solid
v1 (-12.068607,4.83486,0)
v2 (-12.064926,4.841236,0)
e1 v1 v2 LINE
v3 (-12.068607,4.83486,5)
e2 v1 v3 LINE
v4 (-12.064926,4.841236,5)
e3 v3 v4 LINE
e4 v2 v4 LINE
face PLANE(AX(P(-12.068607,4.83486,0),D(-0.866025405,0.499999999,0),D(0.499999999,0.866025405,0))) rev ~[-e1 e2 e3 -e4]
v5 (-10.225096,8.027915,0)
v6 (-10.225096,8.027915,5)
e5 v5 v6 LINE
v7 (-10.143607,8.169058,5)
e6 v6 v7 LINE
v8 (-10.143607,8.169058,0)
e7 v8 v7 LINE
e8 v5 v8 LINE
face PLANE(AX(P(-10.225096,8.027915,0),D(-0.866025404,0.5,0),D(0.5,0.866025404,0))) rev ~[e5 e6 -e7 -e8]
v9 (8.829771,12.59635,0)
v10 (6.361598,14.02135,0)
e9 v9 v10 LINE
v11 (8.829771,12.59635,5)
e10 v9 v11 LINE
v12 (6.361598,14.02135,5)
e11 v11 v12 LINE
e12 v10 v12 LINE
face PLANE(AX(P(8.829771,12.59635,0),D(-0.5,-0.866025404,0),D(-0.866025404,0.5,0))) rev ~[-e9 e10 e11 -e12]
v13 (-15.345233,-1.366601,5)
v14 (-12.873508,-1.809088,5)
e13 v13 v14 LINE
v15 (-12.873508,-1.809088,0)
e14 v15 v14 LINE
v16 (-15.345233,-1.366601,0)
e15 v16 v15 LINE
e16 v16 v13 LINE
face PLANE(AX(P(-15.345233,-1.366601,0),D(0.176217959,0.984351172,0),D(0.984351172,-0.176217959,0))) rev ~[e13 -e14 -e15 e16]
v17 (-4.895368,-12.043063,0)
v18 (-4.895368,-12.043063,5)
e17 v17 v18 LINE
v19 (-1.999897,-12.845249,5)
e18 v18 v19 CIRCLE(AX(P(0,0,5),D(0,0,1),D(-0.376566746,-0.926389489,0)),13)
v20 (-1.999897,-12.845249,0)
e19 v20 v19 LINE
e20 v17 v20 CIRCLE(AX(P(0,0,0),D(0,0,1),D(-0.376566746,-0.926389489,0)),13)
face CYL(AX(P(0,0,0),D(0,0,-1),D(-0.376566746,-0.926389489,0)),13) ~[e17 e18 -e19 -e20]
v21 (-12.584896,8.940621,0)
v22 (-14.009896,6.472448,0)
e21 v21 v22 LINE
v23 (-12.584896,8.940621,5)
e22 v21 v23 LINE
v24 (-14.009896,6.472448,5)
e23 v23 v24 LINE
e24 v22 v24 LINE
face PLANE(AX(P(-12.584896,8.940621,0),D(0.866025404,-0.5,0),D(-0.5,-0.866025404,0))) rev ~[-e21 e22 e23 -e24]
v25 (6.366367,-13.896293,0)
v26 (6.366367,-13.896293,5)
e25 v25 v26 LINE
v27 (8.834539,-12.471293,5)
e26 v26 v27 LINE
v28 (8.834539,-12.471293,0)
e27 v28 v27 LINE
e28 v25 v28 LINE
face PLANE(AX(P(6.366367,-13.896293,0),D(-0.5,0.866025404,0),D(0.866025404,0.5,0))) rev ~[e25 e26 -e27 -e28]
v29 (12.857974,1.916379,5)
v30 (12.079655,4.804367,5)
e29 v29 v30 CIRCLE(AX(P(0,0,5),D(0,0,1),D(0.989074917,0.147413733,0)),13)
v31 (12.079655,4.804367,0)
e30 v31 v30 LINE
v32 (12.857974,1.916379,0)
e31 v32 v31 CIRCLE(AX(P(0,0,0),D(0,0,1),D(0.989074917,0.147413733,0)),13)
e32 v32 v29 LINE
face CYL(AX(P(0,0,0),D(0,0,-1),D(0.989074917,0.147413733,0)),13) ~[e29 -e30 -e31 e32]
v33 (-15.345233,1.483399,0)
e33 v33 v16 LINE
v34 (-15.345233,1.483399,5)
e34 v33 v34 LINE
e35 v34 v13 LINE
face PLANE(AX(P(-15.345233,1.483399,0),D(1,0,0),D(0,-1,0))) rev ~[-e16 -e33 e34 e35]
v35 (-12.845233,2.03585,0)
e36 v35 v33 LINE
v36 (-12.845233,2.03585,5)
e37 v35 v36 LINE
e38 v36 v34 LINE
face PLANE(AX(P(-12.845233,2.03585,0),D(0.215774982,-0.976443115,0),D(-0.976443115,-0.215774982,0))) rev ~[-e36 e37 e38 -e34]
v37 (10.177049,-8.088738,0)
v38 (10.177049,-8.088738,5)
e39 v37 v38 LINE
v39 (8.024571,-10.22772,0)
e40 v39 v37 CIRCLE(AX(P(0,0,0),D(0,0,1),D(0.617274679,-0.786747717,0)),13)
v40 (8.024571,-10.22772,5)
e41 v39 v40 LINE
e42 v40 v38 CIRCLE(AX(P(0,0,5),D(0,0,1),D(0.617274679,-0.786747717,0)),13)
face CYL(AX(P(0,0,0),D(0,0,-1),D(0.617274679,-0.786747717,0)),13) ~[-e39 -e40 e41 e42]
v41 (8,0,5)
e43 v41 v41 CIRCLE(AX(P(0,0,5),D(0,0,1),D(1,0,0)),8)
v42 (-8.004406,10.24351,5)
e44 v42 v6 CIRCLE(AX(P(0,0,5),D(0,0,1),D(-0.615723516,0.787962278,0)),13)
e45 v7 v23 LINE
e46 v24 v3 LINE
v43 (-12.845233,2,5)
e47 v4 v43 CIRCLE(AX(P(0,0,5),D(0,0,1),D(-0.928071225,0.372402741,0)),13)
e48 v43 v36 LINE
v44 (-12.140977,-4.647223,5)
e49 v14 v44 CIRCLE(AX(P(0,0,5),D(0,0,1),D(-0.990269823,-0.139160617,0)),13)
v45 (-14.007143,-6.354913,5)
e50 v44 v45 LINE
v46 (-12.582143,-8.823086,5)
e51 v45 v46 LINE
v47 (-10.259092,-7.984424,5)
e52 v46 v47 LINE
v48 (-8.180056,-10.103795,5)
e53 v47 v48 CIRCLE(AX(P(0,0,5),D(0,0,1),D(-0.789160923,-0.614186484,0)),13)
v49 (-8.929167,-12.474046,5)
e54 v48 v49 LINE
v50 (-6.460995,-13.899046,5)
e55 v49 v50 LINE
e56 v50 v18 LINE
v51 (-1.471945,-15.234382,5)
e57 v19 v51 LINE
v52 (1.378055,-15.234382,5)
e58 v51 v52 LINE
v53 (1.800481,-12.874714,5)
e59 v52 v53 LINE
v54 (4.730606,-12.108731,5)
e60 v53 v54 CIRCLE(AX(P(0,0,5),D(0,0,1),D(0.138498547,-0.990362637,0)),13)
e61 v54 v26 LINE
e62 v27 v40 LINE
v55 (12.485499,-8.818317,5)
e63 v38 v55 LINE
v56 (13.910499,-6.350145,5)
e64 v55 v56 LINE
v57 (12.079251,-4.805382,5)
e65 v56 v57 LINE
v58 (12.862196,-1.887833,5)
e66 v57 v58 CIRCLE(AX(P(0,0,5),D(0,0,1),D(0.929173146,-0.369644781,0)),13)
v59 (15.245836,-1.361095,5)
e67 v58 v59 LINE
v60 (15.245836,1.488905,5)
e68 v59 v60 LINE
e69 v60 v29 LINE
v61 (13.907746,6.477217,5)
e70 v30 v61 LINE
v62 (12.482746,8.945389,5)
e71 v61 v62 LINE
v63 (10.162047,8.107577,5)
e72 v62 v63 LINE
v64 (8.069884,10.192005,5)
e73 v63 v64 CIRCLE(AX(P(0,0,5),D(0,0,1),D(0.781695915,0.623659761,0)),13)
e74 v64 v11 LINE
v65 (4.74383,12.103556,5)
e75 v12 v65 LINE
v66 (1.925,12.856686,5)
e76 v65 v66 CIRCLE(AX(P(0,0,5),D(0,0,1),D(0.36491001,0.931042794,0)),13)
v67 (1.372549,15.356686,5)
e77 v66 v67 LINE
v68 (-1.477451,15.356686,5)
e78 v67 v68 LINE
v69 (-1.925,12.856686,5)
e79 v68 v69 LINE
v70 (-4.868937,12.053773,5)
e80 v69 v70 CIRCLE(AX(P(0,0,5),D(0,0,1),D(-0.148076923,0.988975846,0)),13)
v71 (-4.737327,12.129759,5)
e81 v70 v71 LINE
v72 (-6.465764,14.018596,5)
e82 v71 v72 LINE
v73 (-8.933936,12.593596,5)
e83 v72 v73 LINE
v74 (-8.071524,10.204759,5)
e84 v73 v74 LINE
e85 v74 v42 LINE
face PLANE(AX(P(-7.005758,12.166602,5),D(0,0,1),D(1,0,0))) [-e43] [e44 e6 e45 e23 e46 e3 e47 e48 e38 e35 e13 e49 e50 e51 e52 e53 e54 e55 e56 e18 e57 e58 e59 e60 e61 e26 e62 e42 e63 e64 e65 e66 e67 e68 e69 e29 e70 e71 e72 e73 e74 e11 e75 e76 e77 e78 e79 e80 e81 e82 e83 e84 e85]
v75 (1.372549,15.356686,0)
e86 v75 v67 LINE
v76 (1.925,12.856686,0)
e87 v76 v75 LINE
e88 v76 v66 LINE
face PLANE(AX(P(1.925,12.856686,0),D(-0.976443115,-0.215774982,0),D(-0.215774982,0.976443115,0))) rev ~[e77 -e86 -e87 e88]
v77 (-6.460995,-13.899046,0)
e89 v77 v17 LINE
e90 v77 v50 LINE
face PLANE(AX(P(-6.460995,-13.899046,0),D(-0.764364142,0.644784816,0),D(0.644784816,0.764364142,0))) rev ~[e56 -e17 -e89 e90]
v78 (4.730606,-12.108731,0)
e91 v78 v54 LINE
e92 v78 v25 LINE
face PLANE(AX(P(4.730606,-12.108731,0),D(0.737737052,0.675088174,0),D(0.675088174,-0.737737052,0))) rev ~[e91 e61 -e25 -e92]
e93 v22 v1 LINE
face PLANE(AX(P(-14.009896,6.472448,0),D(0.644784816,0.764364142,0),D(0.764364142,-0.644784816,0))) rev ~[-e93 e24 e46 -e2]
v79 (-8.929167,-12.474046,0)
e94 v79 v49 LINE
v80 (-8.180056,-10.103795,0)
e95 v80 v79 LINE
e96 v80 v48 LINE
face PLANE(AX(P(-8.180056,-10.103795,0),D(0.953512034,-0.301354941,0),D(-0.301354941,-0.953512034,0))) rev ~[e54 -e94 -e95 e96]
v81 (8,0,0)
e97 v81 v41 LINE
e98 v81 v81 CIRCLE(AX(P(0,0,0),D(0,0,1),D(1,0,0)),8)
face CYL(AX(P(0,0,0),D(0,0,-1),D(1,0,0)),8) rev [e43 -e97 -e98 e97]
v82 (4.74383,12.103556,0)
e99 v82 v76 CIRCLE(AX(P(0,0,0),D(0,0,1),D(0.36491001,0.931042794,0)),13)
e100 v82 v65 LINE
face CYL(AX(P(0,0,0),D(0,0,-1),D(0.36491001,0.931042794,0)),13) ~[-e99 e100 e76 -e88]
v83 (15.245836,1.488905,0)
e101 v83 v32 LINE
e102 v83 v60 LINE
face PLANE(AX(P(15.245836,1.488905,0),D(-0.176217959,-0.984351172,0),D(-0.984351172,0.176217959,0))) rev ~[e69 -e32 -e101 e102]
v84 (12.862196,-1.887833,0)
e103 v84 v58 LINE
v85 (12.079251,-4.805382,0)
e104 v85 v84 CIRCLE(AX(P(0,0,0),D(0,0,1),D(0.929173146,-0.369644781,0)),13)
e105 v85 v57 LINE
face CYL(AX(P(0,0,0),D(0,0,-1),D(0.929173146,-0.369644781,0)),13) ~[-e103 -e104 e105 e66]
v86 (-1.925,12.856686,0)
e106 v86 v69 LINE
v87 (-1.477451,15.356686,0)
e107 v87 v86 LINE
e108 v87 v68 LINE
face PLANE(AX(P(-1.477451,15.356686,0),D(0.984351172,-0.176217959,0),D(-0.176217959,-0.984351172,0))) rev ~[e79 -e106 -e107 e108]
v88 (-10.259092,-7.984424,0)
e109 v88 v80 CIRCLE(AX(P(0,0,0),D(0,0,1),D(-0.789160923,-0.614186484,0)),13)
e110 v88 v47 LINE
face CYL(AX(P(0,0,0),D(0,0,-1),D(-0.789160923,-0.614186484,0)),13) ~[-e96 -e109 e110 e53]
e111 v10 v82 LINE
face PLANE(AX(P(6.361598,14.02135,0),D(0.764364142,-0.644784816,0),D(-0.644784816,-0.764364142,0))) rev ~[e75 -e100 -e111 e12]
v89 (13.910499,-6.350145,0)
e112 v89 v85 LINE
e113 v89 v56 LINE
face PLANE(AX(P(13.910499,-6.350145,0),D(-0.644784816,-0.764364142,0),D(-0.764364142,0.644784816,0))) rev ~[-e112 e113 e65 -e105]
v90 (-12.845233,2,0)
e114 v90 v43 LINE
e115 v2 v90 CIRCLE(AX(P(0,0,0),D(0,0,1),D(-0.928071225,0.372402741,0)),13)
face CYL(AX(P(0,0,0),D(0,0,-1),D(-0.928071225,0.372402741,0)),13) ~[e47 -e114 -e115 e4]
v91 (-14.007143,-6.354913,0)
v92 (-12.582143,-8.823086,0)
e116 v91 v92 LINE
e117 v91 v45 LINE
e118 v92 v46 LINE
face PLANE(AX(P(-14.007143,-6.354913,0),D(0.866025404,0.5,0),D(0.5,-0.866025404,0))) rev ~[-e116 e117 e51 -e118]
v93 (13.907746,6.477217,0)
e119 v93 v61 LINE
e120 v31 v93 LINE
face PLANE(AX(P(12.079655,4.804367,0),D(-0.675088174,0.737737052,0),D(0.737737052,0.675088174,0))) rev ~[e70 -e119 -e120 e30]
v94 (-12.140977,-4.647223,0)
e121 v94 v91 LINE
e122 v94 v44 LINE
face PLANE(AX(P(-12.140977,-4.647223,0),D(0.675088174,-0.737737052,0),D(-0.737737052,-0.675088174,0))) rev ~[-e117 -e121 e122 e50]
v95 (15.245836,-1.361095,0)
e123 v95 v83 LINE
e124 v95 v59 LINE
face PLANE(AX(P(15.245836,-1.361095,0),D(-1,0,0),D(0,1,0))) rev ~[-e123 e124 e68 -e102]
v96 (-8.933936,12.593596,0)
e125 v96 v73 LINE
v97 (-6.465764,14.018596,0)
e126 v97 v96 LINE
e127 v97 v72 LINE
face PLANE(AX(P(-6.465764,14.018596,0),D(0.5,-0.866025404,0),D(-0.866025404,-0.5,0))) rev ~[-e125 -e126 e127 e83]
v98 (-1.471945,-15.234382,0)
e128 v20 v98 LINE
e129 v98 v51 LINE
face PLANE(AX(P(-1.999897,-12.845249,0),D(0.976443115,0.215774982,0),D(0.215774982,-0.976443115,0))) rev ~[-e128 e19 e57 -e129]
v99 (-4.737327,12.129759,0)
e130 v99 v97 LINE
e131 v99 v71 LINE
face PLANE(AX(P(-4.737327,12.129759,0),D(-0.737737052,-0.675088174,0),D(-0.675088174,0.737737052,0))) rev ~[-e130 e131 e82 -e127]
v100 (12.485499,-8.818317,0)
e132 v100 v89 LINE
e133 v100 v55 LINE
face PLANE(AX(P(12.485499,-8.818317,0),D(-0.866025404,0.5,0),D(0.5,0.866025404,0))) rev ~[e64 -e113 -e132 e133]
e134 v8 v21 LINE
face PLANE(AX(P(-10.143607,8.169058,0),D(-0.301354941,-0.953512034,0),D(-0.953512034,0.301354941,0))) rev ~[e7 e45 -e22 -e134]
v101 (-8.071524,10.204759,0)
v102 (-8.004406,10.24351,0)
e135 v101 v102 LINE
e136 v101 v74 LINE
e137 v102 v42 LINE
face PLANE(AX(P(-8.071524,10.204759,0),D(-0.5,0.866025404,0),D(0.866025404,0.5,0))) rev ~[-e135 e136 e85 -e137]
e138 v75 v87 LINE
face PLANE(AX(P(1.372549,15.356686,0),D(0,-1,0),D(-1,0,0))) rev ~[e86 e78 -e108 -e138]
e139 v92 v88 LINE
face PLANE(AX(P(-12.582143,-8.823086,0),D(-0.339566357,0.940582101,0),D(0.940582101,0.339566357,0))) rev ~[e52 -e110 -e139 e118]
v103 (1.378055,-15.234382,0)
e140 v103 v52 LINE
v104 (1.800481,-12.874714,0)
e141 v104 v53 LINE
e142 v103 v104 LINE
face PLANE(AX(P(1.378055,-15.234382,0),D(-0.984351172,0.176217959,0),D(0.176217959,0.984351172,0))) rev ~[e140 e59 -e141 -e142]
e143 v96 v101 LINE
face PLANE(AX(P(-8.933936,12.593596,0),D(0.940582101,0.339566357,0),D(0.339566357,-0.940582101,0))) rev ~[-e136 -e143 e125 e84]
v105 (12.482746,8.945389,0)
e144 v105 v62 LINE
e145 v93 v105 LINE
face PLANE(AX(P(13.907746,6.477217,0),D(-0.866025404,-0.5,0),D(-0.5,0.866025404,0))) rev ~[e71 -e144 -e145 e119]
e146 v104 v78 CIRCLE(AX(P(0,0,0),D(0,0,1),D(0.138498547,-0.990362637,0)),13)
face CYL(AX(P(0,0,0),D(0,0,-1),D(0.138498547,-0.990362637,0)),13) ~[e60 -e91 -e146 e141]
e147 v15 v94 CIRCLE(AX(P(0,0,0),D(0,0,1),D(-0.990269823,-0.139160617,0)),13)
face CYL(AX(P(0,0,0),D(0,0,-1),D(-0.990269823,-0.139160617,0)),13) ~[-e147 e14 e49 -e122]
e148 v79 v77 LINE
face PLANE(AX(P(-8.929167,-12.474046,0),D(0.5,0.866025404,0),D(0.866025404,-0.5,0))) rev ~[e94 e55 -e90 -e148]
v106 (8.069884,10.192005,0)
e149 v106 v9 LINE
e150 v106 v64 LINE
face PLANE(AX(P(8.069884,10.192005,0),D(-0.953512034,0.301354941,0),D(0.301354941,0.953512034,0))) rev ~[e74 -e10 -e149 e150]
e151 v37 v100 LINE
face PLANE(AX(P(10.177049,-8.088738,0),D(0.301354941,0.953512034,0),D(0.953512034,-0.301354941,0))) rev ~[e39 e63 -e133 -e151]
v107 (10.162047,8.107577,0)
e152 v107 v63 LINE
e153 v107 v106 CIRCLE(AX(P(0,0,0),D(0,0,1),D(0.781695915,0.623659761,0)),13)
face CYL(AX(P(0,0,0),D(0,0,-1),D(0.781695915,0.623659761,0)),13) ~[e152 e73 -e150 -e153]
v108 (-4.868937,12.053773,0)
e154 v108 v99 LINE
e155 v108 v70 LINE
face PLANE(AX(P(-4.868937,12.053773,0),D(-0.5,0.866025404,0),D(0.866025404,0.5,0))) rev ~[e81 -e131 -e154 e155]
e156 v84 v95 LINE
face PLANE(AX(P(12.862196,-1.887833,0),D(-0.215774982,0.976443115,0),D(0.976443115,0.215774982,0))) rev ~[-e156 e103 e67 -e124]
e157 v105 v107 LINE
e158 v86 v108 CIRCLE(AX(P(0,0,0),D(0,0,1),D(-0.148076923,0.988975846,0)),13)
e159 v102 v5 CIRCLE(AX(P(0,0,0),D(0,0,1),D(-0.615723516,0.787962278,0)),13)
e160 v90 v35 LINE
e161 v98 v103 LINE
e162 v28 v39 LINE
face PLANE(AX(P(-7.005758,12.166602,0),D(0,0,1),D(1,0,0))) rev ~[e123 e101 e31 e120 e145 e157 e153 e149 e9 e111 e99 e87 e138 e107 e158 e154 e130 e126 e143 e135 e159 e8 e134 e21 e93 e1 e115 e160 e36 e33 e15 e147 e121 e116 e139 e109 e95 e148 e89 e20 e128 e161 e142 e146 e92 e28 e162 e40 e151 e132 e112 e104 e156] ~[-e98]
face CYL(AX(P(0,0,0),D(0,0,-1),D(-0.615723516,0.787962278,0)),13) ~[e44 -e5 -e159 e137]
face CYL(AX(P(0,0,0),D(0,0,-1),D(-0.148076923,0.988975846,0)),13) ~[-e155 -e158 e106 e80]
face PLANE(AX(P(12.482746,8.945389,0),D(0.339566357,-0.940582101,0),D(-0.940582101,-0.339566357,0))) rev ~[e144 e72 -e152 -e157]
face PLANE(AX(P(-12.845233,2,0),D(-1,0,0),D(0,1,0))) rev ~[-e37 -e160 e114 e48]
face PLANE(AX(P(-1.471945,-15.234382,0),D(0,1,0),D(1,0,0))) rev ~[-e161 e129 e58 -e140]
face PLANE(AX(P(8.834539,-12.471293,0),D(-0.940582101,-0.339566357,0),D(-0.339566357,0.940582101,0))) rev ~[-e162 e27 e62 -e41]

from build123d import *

# Parameters (mm, degrees)
F0_R     = 8
F1_DEPTH = 5


with BuildPart() as f1:
    # F0 (on Top) → F1 (new body)
    with BuildSketch(Plane.XY):
        with BuildLine():
            ThreePointArc((-8.0044057119, 10.2435096134), (-6.5, 11.2583302492), (-4.8689366932, 12.0537734954))
            Line((-4.8689366932, 12.0537734954), (-4.7373265178, 12.1297586656))
            Line((-4.7373265178, 12.1297586656), (-6.4657635443, 14.018596429))
            Line((-6.4657635443, 14.018596429), (-8.933935945, 12.593596429))
            Line((-8.933935945, 12.593596429), (-8.0715243224, 10.2047586656))
            Line((-8.0715243224, 10.2047586656), (-8.0044057119, 10.2435096134))
        make_face()
        with BuildLine():
            ThreePointArc((4.743830128, 12.1035563252), (3.3556109574, 12.5594536148), (1.925, 12.8566860038))
            Line((1.925, 12.8566860038), (-1.925, 12.8566860038))
            ThreePointArc((-1.925, 12.8566860038), (-3.4206082897, 12.5419073082), (-4.8689366932, 12.0537734954))
            Line((-4.8689366932, 12.0537734954), (-8.0044057119, 10.2435096134))
            ThreePointArc((-8.0044057119, 10.2435096134), (-9.18182436, 9.2029398249), (-10.2250960025, 8.0279145325))
            Line((-10.2250960025, 8.0279145325), (-12.0649259258, 4.841235628))
            ThreePointArc((-12.0649259258, 4.841235628), (-12.5358348008, 3.4427962251), (-12.8452325787, 2))
            Line((-12.8452325787, 2), (-12.8452325787, -1.8141498167))
            Line((-12.8452325787, -1.8141498167), (-12.8735077012, -1.8090880212))
            ThreePointArc((-12.8735077012, -1.8090880212), (-12.5874883323, -3.2488671079), (-12.1409769307, -4.6472227372))
            Line((-12.1409769307, -4.6472227372), (-12.1183052404, -4.6264763345))
            Line((-12.1183052404, -4.6264763345), (-10.1933052404, -7.9606741391))
            Line((-10.1933052404, -7.9606741391), (-10.2590920013, -7.9844242941))
            ThreePointArc((-10.2590920013, -7.9844242941), (-9.280273641, -9.1036542744), (-8.1800560603, -10.1037954675))
            Line((-8.1800560603, -10.1037954675), (-8.15760444, -10.0327566781))
            Line((-8.15760444, -10.0327566781), (-4.8234066354, -11.9577566781))
            Line((-4.8234066354, -11.9577566781), (-4.8953676956, -12.0430633613))
            ThreePointArc((-4.8953676956, -12.0430633613), (-3.470885444, -12.5280866151), (-1.9998974916, -12.8452485388))
            Line((-1.9998974916, -12.8452485388), (-2.0243967581, -12.7343823954))
            Line((-2.0243967581, -12.7343823954), (1.8256032419, -12.7343823954))
            Line((1.8256032419, -12.7343823954), (1.8004811118, -12.874714279))
            ThreePointArc((1.8004811118, -12.874714279), (3.2879257328, -12.5773425005), (4.730605508, -12.1087312105))
            Line((4.730605508, -12.1087312105), (4.6379297596, -12.0074550572))
            Line((4.6379297596, -12.0074550572), (7.9721275642, -10.0824550572))
            Line((7.9721275642, -10.0824550572), (8.0245708298, -10.2277203226))
            ThreePointArc((8.0245708298, -10.2277203226), (9.1634355916, -9.2212498154), (10.1770488861, -8.0887376006))
            Line((10.1770488861, -8.0887376006), (10.0442101032, -8.0467542567))
            Line((10.0442101032, -8.0467542567), (11.9692101032, -4.7125564521))
            Line((11.9692101032, -4.7125564521), (12.0792509027, -4.8053821522))
            ThreePointArc((12.0792509027, -4.8053821522), (12.555754306, -3.3694263322), (12.8621959896, -1.8878332353))
            Line((12.8621959896, -1.8878332353), (12.7458358205, -1.9135465749))
            Line((12.7458358205, -1.9135465749), (12.7458358205, 1.9364534251))
            Line((12.7458358205, 1.9364534251), (12.8579739202, 1.9163785295))
            ThreePointArc((12.8579739202, 1.9163785295), (12.5521491468, 3.3828319198), (12.0796545351, 4.8043674205))
            Line((12.0796545351, 4.8043674205), (12.0189084823, 4.7487799429))
            Line((12.0189084823, 4.7487799429), (10.0939084823, 8.0829777475))
            Line((10.0939084823, 8.0829777475), (10.1620468907, 8.1075768878))
            ThreePointArc((10.1620468907, 8.1075768878), (9.1753494128, 9.2093953739), (8.0698840464, 10.1920052727))
            Line((8.0698840464, 10.1920052727), (8.0582076818, 10.1550602865))
            Line((8.0582076818, 10.1550602865), (4.7240098772, 12.0800602865))
            Line((4.7240098772, 12.0800602865), (4.743830128, 12.1035563252))
        make_face()
        Circle(F0_R, mode=Mode.SUBTRACT)
        with BuildLine():
            ThreePointArc((-12.0649259258, 4.841235628), (-11.2583302492, 6.5), (-10.2250960025, 8.0279145325))
            Line((-10.2250960025, 8.0279145325), (-10.1436068614, 8.1690578651))
            Line((-10.1436068614, 8.1690578651), (-12.5848961169, 8.9406208386))
            Line((-12.5848961169, 8.9406208386), (-14.0098961169, 6.4724484378))
            Line((-14.0098961169, 6.4724484378), (-12.0686068614, 4.8348600605))
            Line((-12.0686068614, 4.8348600605), (-12.0649259258, 4.841235628))
        make_face()
        with BuildLine():
            ThreePointArc((-12.8735077012, -1.8090880212), (-12.9996418521, 0.096497236), (-12.8452325787, 2))
            Line((-12.8452325787, 2), (-12.8452325787, 2.0358501833))
            Line((-12.8452325787, 2.0358501833), (-15.3452325787, 1.4833986912))
            Line((-15.3452325787, 1.4833986912), (-15.3452325787, -1.3666013088))
            Line((-15.3452325787, -1.3666013088), (-12.8735077012, -1.8090880212))
        make_face()
        with BuildLine():
            ThreePointArc((-10.2590920013, -7.9844242941), (-11.3236478485, -6.3855304715), (-12.1409769307, -4.6472227372))
            Line((-12.1409769307, -4.6472227372), (-14.0071430039, -6.354913361))
            Line((-14.0071430039, -6.354913361), (-12.5821430039, -8.8230857618))
            Line((-12.5821430039, -8.8230857618), (-10.2590920013, -7.9844242941))
        make_face()
        with BuildLine():
            ThreePointArc((-4.8953676956, -12.0430633613), (-6.6092258692, -11.1945582052), (-8.1800560603, -10.1037954675))
            Line((-8.1800560603, -10.1037954675), (-8.9291674135, -12.4740459336))
            Line((-8.9291674135, -12.4740459336), (-6.4609950127, -13.8990459336))
            Line((-6.4609950127, -13.8990459336), (-4.8953676956, -12.0430633613))
        make_face()
        with BuildLine():
            ThreePointArc((1.8004811118, -12.874714279), (-0.1007907763, -12.9996092718), (-1.9998974916, -12.8452485388))
            Line((-1.9998974916, -12.8452485388), (-1.4719452661, -15.2343823954))
            Line((-1.4719452661, -15.2343823954), (1.3780547339, -15.2343823954))
            Line((1.3780547339, -15.2343823954), (1.8004811118, -12.874714279))
        make_face()
        with BuildLine():
            Line((8.8345391869, -12.4712928206), (8.0245708298, -10.2277203226))
            ThreePointArc((8.0245708298, -10.2277203226), (6.4465635297, -11.2890131835), (4.730605508, -12.1087312105))
            Line((4.730605508, -12.1087312105), (6.3663667861, -13.8962928206))
            Line((6.3663667861, -13.8962928206), (8.8345391869, -12.4712928206))
        make_face()
        with BuildLine():
            Line((13.9104993587, -6.3501448294), (12.0792509027, -4.8053821522))
            ThreePointArc((12.0792509027, -4.8053821522), (11.2485921707, -6.5168377437), (10.1770488861, -8.0887376006))
            Line((10.1770488861, -8.0887376006), (12.4854993587, -8.8183172302))
            Line((12.4854993587, -8.8183172302), (13.9104993587, -6.3501448294))
        make_face()
        with BuildLine():
            Line((15.2458358205, 1.4889049172), (12.8579739202, 1.9163785295))
            ThreePointArc((12.8579739202, 1.9163785295), (12.9644448582, 0.96081711), (13, 0))
            ThreePointArc((13, 0), (12.9655032271, -0.9464280571), (12.8621959896, -1.8878332353))
            Line((12.8621959896, -1.8878332353), (15.2458358205, -1.3610950828))
            Line((15.2458358205, -1.3610950828), (15.2458358205, 1.4889049172))
        make_face()
        with BuildLine():
            Line((6.3615982545, 14.021349542), (4.743830128, 12.1035563252))
            ThreePointArc((4.743830128, 12.1035563252), (6.4777561387, 11.2711434827), (8.0698840464, 10.1920052727))
            Line((8.0698840464, 10.1920052727), (8.8297706553, 12.596349542))
            Line((8.8297706553, 12.596349542), (6.3615982545, 14.021349542))
        make_face()
        with BuildLine():
            ThreePointArc((-1.925, 12.8566860038), (0, 13), (1.925, 12.8566860038))
            Line((1.925, 12.8566860038), (1.3725485079, 15.3566860038))
            Line((1.3725485079, 15.3566860038), (-1.4774514921, 15.3566860038))
            Line((-1.4774514921, 15.3566860038), (-1.925, 12.8566860038))
        make_face()
        with BuildLine():
            Line((12.4827462457, 8.9453893702), (10.1620468907, 8.1075768878))
            ThreePointArc((10.1620468907, 8.1075768878), (11.2428252132, 6.5267818429), (12.0796545351, 4.8043674205))
            Line((12.0796545351, 4.8043674205), (13.9077462457, 6.4772169694))
            Line((13.9077462457, 6.4772169694), (12.4827462457, 8.9453893702))
        make_face()
        with BuildLine():
            ThreePointArc((13, 0), (12.9644448582, 0.96081711), (12.8579739202, 1.9163785295))
            Line((12.8579739202, 1.9163785295), (12.7458358205, 1.9364534251))
            Line((12.7458358205, 1.9364534251), (12.7458358205, -1.9135465749))
            Line((12.7458358205, -1.9135465749), (12.8621959896, -1.8878332353))
            ThreePointArc((12.8621959896, -1.8878332353), (12.9655032271, -0.9464280571), (13, 0))
        make_face()
        with BuildLine():
            ThreePointArc((12.0796545351, 4.8043674205), (11.2428252132, 6.5267818429), (10.1620468907, 8.1075768878))
            Line((10.1620468907, 8.1075768878), (10.0939084823, 8.0829777475))
            Line((10.0939084823, 8.0829777475), (12.0189084823, 4.7487799429))
            Line((12.0189084823, 4.7487799429), (12.0796545351, 4.8043674205))
        make_face()
        with BuildLine():
            ThreePointArc((8.0698840464, 10.1920052727), (6.4777561387, 11.2711434827), (4.743830128, 12.1035563252))
            Line((4.743830128, 12.1035563252), (4.7240098772, 12.0800602865))
            Line((4.7240098772, 12.0800602865), (8.0582076818, 10.1550602865))
            Line((8.0582076818, 10.1550602865), (8.0698840464, 10.1920052727))
        make_face()
        with BuildLine():
            Line((-1.925, 12.8566860038), (1.925, 12.8566860038))
            ThreePointArc((1.925, 12.8566860038), (0, 13), (-1.925, 12.8566860038))
        make_face()
        with BuildLine():
            Line((-8.0044057119, 10.2435096134), (-4.8689366932, 12.0537734954))
            ThreePointArc((-4.8689366932, 12.0537734954), (-6.5, 11.2583302492), (-8.0044057119, 10.2435096134))
        make_face()
        with BuildLine():
            Line((-12.0649259258, 4.841235628), (-10.2250960025, 8.0279145325))
            ThreePointArc((-10.2250960025, 8.0279145325), (-11.2583302492, 6.5), (-12.0649259258, 4.841235628))
        make_face()
        with BuildLine():
            Line((-12.8452325787, -1.8141498167), (-12.8452325787, 2))
            ThreePointArc((-12.8452325787, 2), (-12.9996418521, 0.096497236), (-12.8735077012, -1.8090880212))
            Line((-12.8735077012, -1.8090880212), (-12.8452325787, -1.8141498167))
        make_face()
        with BuildLine():
            Line((-12.1183052404, -4.6264763345), (-12.1409769307, -4.6472227372))
            ThreePointArc((-12.1409769307, -4.6472227372), (-11.3236478485, -6.3855304715), (-10.2590920013, -7.9844242941))
            Line((-10.2590920013, -7.9844242941), (-10.1933052404, -7.9606741391))
            Line((-10.1933052404, -7.9606741391), (-12.1183052404, -4.6264763345))
        make_face()
        with BuildLine():
            Line((-8.15760444, -10.0327566781), (-8.1800560603, -10.1037954675))
            ThreePointArc((-8.1800560603, -10.1037954675), (-6.6092258692, -11.1945582052), (-4.8953676956, -12.0430633613))
            Line((-4.8953676956, -12.0430633613), (-4.8234066354, -11.9577566781))
            Line((-4.8234066354, -11.9577566781), (-8.15760444, -10.0327566781))
        make_face()
        with BuildLine():
            Line((-2.0243967581, -12.7343823954), (-1.9998974916, -12.8452485388))
            ThreePointArc((-1.9998974916, -12.8452485388), (-0.1007907763, -12.9996092718), (1.8004811118, -12.874714279))
            Line((1.8004811118, -12.874714279), (1.8256032419, -12.7343823954))
            Line((1.8256032419, -12.7343823954), (-2.0243967581, -12.7343823954))
        make_face()
        with BuildLine():
            ThreePointArc((4.730605508, -12.1087312105), (6.4465635297, -11.2890131835), (8.0245708298, -10.2277203226))
            Line((8.0245708298, -10.2277203226), (7.9721275642, -10.0824550572))
            Line((7.9721275642, -10.0824550572), (4.6379297596, -12.0074550572))
            Line((4.6379297596, -12.0074550572), (4.730605508, -12.1087312105))
        make_face()
        with BuildLine():
            ThreePointArc((10.1770488861, -8.0887376006), (11.2485921707, -6.5168377437), (12.0792509027, -4.8053821522))
            Line((12.0792509027, -4.8053821522), (11.9692101032, -4.7125564521))
            Line((11.9692101032, -4.7125564521), (10.0442101032, -8.0467542567))
            Line((10.0442101032, -8.0467542567), (10.1770488861, -8.0887376006))
        make_face()
    extrude(amount=F1_DEPTH)


solid = f1.part
